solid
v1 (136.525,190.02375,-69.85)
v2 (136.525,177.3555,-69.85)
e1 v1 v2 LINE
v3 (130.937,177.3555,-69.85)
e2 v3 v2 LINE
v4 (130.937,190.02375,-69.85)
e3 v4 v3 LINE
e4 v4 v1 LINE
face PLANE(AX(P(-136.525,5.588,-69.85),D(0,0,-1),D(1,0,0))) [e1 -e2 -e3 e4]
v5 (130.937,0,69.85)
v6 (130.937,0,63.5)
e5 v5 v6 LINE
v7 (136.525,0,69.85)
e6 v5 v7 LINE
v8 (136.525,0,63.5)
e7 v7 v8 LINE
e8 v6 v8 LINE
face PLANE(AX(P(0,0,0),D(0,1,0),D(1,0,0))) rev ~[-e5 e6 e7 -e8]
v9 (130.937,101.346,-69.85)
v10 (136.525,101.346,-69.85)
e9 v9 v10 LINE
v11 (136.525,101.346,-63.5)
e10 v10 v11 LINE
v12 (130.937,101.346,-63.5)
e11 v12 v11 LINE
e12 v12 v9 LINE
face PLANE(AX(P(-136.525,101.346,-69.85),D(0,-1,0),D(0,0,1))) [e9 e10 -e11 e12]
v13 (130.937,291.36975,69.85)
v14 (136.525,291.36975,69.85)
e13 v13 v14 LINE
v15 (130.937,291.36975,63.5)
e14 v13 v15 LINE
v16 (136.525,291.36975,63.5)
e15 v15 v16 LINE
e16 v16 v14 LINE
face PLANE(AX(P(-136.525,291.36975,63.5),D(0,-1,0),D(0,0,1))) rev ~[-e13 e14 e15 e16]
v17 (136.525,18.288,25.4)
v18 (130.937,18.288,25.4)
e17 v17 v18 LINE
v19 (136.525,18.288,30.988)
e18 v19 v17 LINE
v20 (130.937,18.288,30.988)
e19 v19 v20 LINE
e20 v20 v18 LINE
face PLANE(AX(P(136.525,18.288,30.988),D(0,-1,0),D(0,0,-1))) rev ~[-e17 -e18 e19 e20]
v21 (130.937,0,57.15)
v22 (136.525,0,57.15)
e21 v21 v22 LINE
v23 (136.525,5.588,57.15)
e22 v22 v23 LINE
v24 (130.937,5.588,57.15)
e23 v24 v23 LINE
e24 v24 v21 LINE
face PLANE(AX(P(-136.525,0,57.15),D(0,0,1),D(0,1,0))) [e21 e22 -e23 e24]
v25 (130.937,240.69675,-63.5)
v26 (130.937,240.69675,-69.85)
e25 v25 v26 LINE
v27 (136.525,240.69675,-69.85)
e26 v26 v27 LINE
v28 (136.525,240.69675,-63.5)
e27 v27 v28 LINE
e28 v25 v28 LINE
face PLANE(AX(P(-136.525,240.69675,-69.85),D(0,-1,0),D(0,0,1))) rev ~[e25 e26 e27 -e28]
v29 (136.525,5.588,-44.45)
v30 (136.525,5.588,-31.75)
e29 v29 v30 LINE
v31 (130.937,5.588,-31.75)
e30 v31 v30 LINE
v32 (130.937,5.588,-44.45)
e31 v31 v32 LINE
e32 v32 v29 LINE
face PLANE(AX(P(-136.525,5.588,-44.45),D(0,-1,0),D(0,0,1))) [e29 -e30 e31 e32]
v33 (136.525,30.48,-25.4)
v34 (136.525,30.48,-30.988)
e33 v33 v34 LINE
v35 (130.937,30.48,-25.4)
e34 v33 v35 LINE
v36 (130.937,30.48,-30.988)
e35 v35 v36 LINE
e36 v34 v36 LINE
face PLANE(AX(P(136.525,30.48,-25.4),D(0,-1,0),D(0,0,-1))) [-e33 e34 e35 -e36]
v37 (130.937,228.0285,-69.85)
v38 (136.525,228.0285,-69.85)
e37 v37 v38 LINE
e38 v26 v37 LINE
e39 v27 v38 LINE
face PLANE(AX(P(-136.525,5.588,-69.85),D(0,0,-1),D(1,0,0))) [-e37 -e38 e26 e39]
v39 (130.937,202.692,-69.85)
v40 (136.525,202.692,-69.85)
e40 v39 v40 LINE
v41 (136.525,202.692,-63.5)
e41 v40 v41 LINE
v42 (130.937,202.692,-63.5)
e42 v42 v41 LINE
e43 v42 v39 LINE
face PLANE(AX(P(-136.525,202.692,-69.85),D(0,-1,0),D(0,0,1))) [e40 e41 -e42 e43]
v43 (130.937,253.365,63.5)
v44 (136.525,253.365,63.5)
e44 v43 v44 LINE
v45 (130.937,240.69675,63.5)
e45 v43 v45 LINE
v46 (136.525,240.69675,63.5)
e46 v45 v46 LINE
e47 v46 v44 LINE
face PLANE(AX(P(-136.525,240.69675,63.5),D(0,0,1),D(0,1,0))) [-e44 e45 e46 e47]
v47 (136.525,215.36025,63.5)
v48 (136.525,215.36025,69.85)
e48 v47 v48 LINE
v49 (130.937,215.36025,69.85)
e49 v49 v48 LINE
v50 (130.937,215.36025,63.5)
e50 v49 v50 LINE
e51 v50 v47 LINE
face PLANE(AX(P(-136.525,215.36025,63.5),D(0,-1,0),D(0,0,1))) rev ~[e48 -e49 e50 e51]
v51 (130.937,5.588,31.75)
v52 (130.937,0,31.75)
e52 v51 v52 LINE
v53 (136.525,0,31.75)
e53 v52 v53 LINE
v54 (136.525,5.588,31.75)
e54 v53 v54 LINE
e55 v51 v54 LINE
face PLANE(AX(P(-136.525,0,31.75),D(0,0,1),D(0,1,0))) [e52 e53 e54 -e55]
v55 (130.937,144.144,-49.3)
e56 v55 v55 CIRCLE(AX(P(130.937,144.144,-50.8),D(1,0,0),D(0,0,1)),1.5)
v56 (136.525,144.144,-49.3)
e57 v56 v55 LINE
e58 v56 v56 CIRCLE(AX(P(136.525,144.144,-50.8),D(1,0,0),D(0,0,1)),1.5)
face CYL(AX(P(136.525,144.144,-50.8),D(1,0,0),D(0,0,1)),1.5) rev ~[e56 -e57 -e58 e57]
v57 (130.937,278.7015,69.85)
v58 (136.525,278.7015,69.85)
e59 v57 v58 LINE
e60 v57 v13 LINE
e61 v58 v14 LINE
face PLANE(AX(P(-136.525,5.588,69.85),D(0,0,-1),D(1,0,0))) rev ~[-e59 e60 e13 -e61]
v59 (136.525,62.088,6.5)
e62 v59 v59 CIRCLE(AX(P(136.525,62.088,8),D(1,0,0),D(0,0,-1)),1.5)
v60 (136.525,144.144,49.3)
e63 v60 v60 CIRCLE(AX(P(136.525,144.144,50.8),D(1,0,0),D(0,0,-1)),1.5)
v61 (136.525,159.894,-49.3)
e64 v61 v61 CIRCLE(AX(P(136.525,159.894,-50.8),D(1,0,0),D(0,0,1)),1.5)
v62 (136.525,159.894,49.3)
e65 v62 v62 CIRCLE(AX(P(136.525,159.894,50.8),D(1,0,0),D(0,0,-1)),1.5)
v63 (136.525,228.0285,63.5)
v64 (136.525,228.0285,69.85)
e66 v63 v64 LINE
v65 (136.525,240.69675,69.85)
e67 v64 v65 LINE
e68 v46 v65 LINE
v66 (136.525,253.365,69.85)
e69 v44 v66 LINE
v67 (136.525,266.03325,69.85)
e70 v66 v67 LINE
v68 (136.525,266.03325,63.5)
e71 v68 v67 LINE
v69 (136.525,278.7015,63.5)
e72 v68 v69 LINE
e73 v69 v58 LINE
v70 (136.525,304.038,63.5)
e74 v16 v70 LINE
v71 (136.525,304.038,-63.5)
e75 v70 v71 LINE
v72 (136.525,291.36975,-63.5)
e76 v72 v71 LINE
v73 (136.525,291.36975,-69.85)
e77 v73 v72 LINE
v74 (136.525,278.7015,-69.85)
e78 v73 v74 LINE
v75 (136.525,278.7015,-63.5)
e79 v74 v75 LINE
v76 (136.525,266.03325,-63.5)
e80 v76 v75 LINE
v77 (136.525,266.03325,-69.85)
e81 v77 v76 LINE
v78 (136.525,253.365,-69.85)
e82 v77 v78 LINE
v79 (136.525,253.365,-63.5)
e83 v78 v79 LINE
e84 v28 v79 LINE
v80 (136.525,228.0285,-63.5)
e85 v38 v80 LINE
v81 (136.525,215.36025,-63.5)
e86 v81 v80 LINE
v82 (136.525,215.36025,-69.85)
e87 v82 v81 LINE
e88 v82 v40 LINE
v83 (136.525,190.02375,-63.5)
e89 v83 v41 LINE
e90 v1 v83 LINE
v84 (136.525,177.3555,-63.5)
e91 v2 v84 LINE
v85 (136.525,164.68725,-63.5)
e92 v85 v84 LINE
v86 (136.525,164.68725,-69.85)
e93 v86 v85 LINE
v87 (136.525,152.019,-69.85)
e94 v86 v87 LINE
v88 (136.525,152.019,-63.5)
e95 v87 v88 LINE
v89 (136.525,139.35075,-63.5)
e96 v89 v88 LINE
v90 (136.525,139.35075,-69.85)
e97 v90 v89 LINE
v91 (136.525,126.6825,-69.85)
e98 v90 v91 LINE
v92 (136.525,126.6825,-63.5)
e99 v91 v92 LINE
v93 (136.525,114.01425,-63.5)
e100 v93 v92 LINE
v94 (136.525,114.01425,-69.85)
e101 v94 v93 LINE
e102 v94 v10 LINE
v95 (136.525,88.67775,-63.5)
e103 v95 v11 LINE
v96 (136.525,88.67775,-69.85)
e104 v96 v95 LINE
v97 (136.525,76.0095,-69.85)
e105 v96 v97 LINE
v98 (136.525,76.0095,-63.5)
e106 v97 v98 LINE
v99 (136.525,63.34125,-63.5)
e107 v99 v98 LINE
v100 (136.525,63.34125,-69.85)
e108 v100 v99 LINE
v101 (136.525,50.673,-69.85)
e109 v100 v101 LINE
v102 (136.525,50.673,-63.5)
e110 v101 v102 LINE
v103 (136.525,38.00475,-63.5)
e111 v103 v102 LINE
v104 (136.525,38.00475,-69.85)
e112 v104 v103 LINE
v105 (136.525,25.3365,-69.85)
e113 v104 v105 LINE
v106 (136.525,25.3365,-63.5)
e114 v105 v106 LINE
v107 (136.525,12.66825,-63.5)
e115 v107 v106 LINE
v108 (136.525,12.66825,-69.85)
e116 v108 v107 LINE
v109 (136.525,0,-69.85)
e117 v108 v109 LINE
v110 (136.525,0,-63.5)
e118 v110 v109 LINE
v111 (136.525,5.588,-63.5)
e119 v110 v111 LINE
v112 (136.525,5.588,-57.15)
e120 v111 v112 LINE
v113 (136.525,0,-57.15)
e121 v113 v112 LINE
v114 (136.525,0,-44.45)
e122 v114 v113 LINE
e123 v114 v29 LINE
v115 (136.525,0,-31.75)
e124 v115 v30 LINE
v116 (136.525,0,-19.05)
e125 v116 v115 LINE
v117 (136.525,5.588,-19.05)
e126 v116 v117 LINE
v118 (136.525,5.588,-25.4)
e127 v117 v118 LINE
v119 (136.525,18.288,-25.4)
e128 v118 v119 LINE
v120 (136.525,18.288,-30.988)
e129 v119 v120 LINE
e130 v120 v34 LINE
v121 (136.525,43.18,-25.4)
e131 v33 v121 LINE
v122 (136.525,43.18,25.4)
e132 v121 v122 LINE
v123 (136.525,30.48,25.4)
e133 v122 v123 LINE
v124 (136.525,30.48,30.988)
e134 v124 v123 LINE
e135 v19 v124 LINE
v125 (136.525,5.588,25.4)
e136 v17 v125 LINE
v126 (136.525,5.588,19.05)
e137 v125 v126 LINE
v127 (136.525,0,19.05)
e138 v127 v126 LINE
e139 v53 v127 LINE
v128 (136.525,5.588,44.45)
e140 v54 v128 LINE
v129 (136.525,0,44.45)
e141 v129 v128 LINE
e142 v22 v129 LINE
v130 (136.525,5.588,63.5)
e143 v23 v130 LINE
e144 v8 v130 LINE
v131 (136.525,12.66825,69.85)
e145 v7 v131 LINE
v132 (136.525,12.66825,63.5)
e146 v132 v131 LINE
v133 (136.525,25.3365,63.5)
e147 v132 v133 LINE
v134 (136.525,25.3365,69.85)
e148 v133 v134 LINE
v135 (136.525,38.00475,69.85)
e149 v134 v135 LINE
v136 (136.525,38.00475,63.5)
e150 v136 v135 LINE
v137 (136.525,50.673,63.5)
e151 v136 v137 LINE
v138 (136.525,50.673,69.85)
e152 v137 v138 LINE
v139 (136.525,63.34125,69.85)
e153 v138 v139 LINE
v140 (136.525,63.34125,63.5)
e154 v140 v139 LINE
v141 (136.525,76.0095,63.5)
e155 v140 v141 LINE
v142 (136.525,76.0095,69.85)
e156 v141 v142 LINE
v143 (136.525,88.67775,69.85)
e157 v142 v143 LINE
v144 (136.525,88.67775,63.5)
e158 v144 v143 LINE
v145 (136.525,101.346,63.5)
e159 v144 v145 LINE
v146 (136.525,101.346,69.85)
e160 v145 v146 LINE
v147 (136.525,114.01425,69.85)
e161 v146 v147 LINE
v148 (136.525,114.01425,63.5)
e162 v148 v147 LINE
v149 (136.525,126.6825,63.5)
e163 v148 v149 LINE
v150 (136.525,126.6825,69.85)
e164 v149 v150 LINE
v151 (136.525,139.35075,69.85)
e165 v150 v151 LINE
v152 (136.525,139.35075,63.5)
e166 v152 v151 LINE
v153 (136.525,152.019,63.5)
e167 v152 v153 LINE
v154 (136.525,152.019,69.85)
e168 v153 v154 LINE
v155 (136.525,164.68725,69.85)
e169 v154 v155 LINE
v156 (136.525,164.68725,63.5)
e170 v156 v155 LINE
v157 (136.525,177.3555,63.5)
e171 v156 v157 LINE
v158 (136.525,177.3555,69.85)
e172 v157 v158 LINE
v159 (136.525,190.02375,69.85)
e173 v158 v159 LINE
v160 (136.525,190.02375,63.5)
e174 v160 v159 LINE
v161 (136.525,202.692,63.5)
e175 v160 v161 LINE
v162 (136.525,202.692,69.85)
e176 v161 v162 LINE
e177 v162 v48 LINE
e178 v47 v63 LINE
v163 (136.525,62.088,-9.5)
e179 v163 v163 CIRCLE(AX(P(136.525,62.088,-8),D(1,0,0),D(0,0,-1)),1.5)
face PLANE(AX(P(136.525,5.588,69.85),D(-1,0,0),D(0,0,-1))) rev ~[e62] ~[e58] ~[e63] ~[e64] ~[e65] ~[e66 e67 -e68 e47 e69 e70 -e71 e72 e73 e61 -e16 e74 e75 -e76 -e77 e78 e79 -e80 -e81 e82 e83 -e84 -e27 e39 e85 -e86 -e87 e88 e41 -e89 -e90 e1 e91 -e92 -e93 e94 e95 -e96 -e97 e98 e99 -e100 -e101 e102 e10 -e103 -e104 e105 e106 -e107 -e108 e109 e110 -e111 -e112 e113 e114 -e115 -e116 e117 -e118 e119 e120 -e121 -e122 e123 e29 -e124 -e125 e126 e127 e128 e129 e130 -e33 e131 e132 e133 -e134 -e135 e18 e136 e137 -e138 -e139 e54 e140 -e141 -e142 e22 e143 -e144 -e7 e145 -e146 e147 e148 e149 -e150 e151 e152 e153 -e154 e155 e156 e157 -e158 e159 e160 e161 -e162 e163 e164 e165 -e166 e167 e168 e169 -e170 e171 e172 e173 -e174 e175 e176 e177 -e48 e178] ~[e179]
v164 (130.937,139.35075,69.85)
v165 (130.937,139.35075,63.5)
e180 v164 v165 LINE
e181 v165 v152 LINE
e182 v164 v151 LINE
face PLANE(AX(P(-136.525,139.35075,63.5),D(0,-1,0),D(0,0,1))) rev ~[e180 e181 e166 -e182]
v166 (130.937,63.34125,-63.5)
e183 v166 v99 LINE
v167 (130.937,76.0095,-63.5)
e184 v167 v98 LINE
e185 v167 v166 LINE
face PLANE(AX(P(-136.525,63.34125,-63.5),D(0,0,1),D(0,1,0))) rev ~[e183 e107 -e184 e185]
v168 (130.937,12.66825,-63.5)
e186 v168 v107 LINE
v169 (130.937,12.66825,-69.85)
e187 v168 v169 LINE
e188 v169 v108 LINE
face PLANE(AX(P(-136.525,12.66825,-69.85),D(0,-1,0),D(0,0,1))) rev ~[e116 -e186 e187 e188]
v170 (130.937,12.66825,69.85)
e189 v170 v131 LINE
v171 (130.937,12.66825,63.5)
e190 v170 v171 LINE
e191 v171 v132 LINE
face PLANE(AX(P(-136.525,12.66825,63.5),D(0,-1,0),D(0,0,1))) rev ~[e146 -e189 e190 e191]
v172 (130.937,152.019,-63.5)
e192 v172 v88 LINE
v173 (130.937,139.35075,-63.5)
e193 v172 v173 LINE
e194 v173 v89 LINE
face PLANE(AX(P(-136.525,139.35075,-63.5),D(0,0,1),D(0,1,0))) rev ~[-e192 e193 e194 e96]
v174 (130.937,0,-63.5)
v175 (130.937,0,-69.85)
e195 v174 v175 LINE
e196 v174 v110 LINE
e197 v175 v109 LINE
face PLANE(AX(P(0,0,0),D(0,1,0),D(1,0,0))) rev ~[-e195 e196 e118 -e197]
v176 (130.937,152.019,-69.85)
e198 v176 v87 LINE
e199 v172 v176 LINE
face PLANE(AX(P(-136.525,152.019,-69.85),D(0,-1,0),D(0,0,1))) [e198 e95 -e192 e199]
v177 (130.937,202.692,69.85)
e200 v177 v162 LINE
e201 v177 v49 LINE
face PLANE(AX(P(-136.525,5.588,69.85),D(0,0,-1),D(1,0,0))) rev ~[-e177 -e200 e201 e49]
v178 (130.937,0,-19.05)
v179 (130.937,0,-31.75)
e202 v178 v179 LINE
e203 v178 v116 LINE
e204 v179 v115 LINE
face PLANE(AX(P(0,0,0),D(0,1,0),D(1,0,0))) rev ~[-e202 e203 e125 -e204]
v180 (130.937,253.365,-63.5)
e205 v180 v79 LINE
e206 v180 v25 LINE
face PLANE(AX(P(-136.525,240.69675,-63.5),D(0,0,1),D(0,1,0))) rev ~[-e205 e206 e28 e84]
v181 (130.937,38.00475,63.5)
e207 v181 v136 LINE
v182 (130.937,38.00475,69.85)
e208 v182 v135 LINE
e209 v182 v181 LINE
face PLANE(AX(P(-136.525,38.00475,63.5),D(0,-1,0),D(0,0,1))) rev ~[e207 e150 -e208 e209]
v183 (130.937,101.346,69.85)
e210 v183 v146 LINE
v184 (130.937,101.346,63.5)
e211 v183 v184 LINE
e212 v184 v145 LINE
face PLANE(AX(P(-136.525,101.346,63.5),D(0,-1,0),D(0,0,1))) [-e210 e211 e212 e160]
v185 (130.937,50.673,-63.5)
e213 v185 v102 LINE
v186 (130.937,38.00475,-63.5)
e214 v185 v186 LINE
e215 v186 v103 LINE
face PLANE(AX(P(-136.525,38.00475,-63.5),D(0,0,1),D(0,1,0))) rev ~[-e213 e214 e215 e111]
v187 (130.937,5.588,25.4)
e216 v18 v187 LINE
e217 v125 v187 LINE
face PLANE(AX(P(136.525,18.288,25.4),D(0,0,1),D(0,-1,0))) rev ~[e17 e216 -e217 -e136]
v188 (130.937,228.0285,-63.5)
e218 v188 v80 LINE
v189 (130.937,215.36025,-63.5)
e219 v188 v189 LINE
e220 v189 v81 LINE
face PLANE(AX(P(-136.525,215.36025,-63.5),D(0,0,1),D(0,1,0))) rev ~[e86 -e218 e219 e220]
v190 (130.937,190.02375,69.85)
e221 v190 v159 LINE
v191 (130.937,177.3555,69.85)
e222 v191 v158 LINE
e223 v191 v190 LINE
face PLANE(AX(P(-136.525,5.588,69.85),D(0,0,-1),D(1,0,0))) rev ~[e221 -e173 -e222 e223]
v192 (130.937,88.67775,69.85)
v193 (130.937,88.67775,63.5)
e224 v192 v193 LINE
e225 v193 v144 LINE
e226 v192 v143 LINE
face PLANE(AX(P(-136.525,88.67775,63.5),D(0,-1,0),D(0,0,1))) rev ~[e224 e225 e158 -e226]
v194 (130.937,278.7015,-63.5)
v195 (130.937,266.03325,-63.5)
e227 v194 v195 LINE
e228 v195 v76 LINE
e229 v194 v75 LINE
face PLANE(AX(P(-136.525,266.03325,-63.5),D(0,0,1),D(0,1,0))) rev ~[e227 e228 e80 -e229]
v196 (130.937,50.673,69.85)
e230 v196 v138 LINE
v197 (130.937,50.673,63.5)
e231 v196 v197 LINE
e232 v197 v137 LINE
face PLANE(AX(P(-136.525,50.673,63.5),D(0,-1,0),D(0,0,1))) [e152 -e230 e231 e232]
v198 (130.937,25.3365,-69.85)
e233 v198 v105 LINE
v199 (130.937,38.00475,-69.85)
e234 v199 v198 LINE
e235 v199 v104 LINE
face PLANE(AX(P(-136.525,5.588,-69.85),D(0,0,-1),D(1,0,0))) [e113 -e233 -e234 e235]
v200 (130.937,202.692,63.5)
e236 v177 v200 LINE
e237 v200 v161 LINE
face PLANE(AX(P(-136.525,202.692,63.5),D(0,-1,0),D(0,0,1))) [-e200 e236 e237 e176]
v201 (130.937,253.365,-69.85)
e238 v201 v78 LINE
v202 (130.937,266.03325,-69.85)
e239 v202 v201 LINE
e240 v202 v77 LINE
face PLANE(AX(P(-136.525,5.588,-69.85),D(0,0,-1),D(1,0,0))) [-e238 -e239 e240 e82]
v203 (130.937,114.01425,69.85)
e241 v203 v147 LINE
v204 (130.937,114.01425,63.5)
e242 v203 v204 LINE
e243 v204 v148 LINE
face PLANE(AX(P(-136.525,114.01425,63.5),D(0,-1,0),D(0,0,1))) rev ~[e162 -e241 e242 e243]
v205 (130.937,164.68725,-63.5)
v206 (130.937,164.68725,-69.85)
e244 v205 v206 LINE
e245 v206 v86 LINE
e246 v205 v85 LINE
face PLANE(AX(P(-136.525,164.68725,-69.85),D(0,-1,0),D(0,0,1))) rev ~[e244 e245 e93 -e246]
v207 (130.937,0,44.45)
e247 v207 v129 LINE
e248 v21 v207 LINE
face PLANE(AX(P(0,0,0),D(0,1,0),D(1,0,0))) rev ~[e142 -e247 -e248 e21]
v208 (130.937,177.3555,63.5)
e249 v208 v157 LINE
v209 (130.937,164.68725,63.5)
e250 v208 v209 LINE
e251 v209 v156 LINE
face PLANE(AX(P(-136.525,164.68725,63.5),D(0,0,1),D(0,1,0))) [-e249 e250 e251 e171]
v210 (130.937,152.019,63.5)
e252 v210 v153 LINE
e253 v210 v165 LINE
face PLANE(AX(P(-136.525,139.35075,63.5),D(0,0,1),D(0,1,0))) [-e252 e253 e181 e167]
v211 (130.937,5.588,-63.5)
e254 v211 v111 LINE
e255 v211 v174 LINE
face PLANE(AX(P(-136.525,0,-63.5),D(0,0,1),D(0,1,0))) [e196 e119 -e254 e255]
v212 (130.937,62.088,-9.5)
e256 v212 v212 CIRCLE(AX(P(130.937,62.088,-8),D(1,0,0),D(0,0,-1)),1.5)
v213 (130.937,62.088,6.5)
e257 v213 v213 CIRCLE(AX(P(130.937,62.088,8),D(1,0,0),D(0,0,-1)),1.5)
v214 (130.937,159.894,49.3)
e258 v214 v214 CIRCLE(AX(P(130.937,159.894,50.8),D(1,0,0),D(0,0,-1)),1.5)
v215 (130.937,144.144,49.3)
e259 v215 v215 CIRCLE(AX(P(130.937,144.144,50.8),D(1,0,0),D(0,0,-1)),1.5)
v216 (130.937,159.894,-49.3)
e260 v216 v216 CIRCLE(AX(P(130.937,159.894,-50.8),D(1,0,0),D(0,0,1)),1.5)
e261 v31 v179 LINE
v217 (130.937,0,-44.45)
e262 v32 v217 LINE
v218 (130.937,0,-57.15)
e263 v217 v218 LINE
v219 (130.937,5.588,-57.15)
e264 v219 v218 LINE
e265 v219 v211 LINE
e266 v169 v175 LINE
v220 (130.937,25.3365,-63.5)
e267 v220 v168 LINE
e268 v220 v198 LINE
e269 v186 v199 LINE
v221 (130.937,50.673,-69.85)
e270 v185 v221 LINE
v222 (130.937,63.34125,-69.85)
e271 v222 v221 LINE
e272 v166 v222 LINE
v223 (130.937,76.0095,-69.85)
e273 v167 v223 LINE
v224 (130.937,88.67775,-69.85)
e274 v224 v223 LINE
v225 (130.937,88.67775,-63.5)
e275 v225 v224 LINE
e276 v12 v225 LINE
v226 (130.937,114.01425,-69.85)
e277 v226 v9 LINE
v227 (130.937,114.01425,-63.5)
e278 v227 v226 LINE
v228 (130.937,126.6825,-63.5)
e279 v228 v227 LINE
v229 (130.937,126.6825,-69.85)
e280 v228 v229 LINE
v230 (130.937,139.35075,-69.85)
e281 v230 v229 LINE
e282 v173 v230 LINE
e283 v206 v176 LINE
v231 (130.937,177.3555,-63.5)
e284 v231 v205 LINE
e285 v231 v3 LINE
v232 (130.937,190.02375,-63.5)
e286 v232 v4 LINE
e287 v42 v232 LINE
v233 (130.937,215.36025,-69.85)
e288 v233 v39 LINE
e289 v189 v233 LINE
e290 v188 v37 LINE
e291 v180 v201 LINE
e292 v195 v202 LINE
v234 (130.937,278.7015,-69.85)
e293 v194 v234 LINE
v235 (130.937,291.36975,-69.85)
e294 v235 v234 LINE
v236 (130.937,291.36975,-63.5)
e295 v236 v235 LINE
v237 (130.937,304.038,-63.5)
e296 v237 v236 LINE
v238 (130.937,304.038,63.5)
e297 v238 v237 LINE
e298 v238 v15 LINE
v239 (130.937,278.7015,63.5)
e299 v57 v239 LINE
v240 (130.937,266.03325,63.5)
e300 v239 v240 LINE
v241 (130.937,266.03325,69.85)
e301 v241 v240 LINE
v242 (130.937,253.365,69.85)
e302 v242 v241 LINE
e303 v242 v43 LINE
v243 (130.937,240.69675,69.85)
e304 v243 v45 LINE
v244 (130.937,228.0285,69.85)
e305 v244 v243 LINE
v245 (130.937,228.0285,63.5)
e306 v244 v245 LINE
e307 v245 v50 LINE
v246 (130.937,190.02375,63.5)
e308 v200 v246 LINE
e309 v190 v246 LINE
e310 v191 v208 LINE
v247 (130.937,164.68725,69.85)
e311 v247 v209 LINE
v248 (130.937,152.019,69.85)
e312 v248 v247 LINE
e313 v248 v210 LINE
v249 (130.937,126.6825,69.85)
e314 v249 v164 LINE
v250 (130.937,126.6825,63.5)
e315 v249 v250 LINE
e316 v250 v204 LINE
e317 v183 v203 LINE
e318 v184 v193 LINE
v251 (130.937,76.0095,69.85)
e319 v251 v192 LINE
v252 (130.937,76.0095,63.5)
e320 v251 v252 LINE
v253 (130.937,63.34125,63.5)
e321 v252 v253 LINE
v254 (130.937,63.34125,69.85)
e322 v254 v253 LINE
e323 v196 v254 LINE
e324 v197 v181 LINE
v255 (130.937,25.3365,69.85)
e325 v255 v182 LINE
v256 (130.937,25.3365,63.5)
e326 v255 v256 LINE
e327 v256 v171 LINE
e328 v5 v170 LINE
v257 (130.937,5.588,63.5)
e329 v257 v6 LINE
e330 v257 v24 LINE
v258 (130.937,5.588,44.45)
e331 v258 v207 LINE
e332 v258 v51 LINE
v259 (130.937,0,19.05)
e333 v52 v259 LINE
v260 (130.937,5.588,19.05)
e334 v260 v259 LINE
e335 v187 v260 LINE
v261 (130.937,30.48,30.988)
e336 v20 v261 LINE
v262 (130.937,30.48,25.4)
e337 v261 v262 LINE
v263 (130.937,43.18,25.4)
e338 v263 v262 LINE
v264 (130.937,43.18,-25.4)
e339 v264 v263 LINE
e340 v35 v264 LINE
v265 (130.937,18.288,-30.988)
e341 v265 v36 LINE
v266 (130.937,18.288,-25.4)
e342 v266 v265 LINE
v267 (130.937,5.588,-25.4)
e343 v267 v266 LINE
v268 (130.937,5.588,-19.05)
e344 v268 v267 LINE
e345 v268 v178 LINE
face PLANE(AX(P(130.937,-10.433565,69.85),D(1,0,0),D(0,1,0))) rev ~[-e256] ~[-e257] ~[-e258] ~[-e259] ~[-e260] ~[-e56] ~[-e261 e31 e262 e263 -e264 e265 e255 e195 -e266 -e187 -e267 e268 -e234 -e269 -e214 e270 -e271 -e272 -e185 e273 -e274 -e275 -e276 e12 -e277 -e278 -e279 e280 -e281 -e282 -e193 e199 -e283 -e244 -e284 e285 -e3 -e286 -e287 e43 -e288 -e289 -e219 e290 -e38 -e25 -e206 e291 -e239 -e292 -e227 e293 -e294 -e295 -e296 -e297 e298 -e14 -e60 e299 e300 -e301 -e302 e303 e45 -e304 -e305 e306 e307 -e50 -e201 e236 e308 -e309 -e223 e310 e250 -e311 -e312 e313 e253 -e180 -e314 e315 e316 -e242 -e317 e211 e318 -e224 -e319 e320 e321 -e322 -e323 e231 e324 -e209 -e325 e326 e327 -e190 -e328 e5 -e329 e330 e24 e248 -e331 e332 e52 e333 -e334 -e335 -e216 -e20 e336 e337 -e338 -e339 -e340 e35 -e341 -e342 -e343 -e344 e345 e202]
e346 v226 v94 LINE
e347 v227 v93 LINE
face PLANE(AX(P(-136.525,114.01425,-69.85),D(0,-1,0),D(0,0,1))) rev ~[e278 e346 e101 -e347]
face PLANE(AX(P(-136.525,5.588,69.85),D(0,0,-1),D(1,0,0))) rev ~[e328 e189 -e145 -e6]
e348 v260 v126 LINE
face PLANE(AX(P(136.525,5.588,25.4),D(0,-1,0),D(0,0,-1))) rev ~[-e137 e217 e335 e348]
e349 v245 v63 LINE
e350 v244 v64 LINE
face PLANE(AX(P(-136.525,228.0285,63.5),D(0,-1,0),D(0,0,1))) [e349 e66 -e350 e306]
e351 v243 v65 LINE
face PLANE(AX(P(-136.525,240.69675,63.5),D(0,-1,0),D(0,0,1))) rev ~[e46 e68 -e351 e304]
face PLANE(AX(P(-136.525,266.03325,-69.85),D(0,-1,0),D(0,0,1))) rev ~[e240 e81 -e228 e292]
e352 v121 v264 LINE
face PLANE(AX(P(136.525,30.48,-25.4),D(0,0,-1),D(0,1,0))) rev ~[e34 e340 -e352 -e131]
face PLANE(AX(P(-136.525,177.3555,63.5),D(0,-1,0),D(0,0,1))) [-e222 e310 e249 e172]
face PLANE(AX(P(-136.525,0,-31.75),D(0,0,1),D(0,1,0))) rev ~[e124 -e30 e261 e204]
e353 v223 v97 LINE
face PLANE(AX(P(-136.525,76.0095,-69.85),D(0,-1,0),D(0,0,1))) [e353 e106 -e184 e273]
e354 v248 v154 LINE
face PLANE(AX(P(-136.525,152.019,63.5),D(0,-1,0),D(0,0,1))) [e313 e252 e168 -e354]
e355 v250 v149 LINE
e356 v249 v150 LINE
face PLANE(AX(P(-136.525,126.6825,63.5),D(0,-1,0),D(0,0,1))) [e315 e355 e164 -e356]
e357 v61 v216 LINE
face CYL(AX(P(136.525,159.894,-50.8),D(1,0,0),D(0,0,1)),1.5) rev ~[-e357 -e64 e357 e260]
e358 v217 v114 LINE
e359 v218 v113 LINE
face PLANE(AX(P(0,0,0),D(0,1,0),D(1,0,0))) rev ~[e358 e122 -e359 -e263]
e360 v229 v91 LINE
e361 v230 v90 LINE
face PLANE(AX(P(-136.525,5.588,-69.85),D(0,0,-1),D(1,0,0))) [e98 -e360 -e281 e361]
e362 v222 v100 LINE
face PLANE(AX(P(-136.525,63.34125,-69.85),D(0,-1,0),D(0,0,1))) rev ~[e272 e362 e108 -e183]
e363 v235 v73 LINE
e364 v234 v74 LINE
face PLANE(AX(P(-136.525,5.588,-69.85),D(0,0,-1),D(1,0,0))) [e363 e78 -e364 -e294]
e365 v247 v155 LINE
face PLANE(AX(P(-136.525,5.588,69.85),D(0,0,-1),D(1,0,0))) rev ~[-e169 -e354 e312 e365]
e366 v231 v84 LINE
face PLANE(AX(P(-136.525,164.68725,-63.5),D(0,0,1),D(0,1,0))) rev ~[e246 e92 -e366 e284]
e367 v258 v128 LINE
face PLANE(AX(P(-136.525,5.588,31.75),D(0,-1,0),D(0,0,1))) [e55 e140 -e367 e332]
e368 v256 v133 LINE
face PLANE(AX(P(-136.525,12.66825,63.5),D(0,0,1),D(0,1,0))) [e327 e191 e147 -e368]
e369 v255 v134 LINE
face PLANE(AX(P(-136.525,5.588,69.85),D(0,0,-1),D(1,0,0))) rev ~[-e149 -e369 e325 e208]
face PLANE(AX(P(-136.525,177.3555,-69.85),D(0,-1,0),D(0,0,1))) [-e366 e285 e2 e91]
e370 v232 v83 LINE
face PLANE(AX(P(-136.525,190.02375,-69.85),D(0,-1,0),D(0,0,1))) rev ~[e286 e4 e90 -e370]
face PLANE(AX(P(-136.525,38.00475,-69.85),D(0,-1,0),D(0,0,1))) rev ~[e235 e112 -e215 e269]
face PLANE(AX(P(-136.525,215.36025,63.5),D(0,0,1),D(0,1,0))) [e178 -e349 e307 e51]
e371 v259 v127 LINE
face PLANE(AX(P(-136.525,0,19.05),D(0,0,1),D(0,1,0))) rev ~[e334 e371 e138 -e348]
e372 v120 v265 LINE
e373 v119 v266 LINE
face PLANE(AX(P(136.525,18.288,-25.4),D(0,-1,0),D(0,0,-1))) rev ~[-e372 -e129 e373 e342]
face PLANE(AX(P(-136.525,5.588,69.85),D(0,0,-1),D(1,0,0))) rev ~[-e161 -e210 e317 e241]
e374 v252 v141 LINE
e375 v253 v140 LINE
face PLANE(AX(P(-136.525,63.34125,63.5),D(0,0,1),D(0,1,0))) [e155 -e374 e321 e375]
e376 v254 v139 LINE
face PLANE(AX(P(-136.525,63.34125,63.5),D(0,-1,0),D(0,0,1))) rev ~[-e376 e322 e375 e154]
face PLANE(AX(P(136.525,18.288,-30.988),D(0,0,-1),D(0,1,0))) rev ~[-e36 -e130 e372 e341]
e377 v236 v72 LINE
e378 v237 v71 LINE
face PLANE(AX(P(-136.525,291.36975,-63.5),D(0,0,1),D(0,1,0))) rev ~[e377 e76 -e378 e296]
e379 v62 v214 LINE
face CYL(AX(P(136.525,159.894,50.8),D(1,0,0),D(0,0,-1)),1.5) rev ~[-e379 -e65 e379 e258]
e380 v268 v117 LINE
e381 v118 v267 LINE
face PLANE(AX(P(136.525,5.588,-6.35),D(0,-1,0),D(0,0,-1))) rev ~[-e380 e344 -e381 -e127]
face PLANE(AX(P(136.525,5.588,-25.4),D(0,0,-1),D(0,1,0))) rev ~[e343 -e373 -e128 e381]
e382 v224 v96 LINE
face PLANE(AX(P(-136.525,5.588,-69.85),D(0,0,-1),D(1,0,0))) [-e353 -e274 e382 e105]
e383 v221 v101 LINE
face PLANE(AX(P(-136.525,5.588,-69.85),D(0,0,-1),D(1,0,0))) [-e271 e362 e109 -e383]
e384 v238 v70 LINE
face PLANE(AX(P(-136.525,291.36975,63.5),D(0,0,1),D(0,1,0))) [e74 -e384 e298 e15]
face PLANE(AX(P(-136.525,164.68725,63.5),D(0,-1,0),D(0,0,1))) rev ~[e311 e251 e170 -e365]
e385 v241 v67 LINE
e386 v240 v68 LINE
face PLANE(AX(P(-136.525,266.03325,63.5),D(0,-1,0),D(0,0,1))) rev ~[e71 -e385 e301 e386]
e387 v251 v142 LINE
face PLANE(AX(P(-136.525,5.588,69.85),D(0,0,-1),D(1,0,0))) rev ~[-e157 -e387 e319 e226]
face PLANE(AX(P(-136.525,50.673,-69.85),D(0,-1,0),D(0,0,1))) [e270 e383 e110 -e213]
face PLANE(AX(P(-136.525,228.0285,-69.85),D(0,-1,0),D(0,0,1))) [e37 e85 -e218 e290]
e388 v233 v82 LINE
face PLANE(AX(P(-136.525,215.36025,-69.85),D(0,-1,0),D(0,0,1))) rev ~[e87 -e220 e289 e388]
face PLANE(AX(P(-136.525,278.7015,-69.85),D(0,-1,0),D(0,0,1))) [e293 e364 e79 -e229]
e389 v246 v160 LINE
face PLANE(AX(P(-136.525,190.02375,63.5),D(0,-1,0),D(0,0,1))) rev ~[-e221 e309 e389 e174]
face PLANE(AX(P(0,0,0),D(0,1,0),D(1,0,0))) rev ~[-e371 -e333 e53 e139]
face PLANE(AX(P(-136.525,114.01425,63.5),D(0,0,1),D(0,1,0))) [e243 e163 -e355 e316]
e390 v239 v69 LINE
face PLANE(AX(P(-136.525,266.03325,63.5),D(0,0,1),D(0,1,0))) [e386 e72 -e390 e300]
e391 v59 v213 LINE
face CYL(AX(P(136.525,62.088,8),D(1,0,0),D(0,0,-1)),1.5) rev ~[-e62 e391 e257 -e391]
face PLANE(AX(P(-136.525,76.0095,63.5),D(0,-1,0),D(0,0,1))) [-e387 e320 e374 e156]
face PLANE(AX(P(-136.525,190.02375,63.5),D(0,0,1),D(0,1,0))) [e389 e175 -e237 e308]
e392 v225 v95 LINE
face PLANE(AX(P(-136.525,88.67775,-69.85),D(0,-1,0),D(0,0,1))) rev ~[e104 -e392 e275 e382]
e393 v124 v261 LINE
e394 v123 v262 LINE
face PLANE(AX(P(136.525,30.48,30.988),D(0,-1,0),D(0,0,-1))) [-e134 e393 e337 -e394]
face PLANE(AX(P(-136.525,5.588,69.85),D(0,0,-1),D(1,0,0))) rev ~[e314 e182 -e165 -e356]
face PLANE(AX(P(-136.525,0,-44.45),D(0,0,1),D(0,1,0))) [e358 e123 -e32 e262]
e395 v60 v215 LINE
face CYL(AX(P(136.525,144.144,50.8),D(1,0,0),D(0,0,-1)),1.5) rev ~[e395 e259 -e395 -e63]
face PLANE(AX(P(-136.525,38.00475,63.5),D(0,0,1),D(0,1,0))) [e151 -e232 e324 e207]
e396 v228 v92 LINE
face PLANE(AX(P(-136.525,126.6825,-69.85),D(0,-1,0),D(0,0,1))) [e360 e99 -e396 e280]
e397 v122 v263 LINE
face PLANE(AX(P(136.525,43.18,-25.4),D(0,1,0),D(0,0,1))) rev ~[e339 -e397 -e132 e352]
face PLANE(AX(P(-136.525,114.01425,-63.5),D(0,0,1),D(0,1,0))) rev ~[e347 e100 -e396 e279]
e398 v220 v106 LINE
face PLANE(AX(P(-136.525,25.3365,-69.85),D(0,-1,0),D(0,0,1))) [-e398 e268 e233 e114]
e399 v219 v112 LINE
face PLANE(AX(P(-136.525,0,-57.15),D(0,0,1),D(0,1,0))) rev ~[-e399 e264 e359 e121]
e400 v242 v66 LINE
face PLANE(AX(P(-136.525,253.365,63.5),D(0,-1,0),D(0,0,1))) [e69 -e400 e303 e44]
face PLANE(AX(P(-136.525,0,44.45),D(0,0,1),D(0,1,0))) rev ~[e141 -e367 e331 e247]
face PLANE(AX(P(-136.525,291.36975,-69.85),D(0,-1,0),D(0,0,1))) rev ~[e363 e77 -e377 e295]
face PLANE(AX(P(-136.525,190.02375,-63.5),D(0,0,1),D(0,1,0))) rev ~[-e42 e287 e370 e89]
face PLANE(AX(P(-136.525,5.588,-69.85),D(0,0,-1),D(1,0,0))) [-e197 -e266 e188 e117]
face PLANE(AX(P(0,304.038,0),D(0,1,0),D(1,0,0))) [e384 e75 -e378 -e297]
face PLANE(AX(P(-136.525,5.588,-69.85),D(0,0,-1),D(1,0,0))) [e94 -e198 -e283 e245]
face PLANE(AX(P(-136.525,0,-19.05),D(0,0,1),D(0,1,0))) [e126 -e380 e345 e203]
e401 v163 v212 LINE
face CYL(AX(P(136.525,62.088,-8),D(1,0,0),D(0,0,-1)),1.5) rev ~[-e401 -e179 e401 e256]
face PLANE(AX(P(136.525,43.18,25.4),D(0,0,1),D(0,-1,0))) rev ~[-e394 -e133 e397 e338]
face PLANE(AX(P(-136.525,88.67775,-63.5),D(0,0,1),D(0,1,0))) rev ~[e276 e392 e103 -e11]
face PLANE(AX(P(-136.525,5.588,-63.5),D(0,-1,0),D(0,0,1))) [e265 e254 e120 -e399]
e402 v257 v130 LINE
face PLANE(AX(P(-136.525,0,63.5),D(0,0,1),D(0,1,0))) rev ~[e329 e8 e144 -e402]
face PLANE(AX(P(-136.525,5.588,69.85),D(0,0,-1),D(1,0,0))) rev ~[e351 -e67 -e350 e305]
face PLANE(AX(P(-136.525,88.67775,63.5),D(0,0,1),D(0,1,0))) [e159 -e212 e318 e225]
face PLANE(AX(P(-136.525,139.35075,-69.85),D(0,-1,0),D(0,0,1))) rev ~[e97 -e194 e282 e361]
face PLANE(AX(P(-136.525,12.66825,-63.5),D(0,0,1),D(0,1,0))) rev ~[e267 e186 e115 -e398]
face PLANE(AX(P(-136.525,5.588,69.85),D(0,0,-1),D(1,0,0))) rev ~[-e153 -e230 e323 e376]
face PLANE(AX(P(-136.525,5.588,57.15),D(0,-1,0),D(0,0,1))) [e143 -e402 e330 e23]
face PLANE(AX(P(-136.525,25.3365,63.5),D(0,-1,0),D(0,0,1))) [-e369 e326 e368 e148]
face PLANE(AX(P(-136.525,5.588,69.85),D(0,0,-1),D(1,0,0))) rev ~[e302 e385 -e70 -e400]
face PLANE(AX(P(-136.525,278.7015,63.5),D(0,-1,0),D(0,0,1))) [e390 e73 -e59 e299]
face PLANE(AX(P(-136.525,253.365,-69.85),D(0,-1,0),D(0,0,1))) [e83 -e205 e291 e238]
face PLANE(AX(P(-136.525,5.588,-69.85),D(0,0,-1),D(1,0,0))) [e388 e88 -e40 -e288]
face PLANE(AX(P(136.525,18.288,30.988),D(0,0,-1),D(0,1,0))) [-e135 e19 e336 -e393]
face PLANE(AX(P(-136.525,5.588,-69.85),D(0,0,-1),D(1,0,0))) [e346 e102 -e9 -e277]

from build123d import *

# Parameters (mm, degrees)
SKETCH1_W              = 273.05
SKETCH1_H              = 139.7
BOSS_EXTRUDE1_DEPTH    = 5.588
SKETCH2_W              = 273.05
SKETCH2_H              = 139.7
SKETCH2_W_2            = 261.874
SKETCH2_H_2            = 128.524
BOSS_EXTRUDE2_DEPTH    = 298.45
SKETCH3_W              = 6.35
SKETCH3_H              = 16.933333333
SKETCH3_H_2            = 16.933333334
DOOR_SLOT_DEPTH        = 12.7
DOOR_GUIDE_HOLES_REACH = 361.255
SKETCH4_W              = 6.35
SKETCH4_H              = 15.875
LEVER_HOLES_W          = 9.652
LEVER_HOLES_H          = 6.35
LEVER_HOLES_W_2        = 6.35
CUT_EXTRUDE1_DEPTH     = 362.378293578
CUT_EXTRUDE3_REACH     = 416.577
SKETCH8_R              = 3.175
SKETCH16_W             = 327.238778096
SKETCH16_H             = 314.471565403
CUT_EXTRUDE10_DEPTH    = 362.378293578
LEFT_RIGHT_W           = 6.35
LEFT_RIGHT_H           = 5.588
LEFT_RIGHT_W_2         = 12.7
LEFT_RIGHT_H_2         = 12.66825
CUT_EXTRUDE11_DEPTH    = 415.577411883
SKETCH17_R             = 1.5
SKETCH17_W             = 23
SKETCH17_H             = 17.61800007
CUT_EXTRUDE12_DEPTH    = 313.00857951
SKETCH18_W             = 5.588
SKETCH18_H             = 12.192
CUT_EXTRUDE13_DEPTH    = 313.00857951


with BuildPart() as part:
    # Sketch1 → Boss-Extrude1 (new body)
    with BuildSketch(Plane(origin=(0, 0, 0), x_dir=(1, 0, 0), z_dir=(0, 1, 0))):
        Rectangle(SKETCH1_W, SKETCH1_H)
    extrude(amount=BOSS_EXTRUDE1_DEPTH)

    # Sketch2 → Boss-Extrude2 (add)
    with BuildSketch(Plane(origin=(0, 5.588, 0), x_dir=(1, 0, 0), z_dir=(0, 1, 0))):
        Rectangle(SKETCH2_W, SKETCH2_H)
        Rectangle(SKETCH2_W_2, SKETCH2_H_2, mode=Mode.SUBTRACT)
    extrude(amount=BOSS_EXTRUDE2_DEPTH)

    # Sketch3 → Door Slot (cut)
    with BuildSketch(Plane.XY.offset(69.85)):
        with BuildLine():
            Line((-29.337, 282.448), (-29.337, 5.588))
            Line((-29.337, 5.588), (-22.733, 5.588))
            Line((-22.733, 5.588), (-22.733, 291.592))
            Line((-22.733, 291.592), (-42.291, 291.592))
            Line((-42.291, 291.592), (-42.291, 284.988))
            Line((-42.291, 284.988), (-31.877, 284.988))
            ThreePointArc((-31.877, 284.988), (-30.080948776, 284.244051224), (-29.337, 282.448))
        make_face()
        with Locations((-13.208, 80.433333334)):
            Rectangle(SKETCH3_W, SKETCH3_H)
        with Locations((-13.208, 50.8)):
            Rectangle(SKETCH3_W, SKETCH3_H_2)
        with Locations((-13.208, 21.166666667)):
            Rectangle(SKETCH3_W, SKETCH3_H)
    extrude(amount=-DOOR_SLOT_DEPTH, mode=Mode.SUBTRACT)

    # Sketch4 → Door Guide Holes (cut, up to next)
    with BuildSketch(Plane.XY.offset(-64.262), mode=Mode.PRIVATE) as door_guide_holes_sk1:
        with Locations((-45.466, 283.4005)):
            Rectangle(SKETCH4_W, SKETCH4_H)
    door_guide_holes_tool1 = extrude(door_guide_holes_sk1.sketch, amount=-DOOR_GUIDE_HOLES_REACH, mode=Mode.PRIVATE) & part.part
    # Sketch4 → Door Guide Holes (cut, up to next)
    with BuildSketch(Plane.XY.offset(-64.262), mode=Mode.PRIVATE) as door_guide_holes_sk2:
        with Locations((-45.466, 254.8255)):
            Rectangle(SKETCH4_W, SKETCH4_H)
    door_guide_holes_tool2 = extrude(door_guide_holes_sk2.sketch, amount=-DOOR_GUIDE_HOLES_REACH, mode=Mode.PRIVATE) & part.part
    # Sketch4 → Door Guide Holes (cut, up to next)
    with BuildSketch(Plane.XY.offset(-64.262), mode=Mode.PRIVATE) as door_guide_holes_sk3:
        with Locations((-45.466, 226.2505)):
            Rectangle(SKETCH4_W, SKETCH4_H)
    door_guide_holes_tool3 = extrude(door_guide_holes_sk3.sketch, amount=-DOOR_GUIDE_HOLES_REACH, mode=Mode.PRIVATE) & part.part
    # Sketch4 → Door Guide Holes (cut, up to next)
    with BuildSketch(Plane.XY.offset(-64.262), mode=Mode.PRIVATE) as door_guide_holes_sk4:
        with Locations((-45.466, 197.6755)):
            Rectangle(SKETCH4_W, SKETCH4_H)
    door_guide_holes_tool4 = extrude(door_guide_holes_sk4.sketch, amount=-DOOR_GUIDE_HOLES_REACH, mode=Mode.PRIVATE) & part.part
    # Sketch4 → Door Guide Holes (cut, up to next)
    with BuildSketch(Plane.XY.offset(-64.262), mode=Mode.PRIVATE) as door_guide_holes_sk5:
        with Locations((-45.466, 169.1005)):
            Rectangle(SKETCH4_W, SKETCH4_H)
    door_guide_holes_tool5 = extrude(door_guide_holes_sk5.sketch, amount=-DOOR_GUIDE_HOLES_REACH, mode=Mode.PRIVATE) & part.part
    # Sketch4 → Door Guide Holes (cut, up to next)
    with BuildSketch(Plane.XY.offset(-64.262), mode=Mode.PRIVATE) as door_guide_holes_sk6:
        with Locations((-45.466, 140.5255)):
            Rectangle(SKETCH4_W, SKETCH4_H)
    door_guide_holes_tool6 = extrude(door_guide_holes_sk6.sketch, amount=-DOOR_GUIDE_HOLES_REACH, mode=Mode.PRIVATE) & part.part
    # Sketch4 → Door Guide Holes (cut, up to next)
    with BuildSketch(Plane.XY.offset(-64.262), mode=Mode.PRIVATE) as door_guide_holes_sk7:
        with Locations((-45.466, 111.9505)):
            Rectangle(SKETCH4_W, SKETCH4_H)
    door_guide_holes_tool7 = extrude(door_guide_holes_sk7.sketch, amount=-DOOR_GUIDE_HOLES_REACH, mode=Mode.PRIVATE) & part.part
    # Sketch4 → Door Guide Holes (cut, up to next)
    with BuildSketch(Plane.XY.offset(-64.262), mode=Mode.PRIVATE) as door_guide_holes_sk8:
        with Locations((-45.466, 83.3755)):
            Rectangle(SKETCH4_W, SKETCH4_H)
    door_guide_holes_tool8 = extrude(door_guide_holes_sk8.sketch, amount=-DOOR_GUIDE_HOLES_REACH, mode=Mode.PRIVATE) & part.part
    # Sketch4 → Door Guide Holes (cut, up to next)
    with BuildSketch(Plane.XY.offset(-64.262), mode=Mode.PRIVATE) as door_guide_holes_sk9:
        with Locations((-45.466, 54.8005)):
            Rectangle(SKETCH4_W, SKETCH4_H)
    door_guide_holes_tool9 = extrude(door_guide_holes_sk9.sketch, amount=-DOOR_GUIDE_HOLES_REACH, mode=Mode.PRIVATE) & part.part
    # Sketch4 → Door Guide Holes (cut, up to next)
    with BuildSketch(Plane.XY.offset(-64.262), mode=Mode.PRIVATE) as door_guide_holes_sk10:
        with Locations((-45.466, 26.2255)):
            Rectangle(SKETCH4_W, SKETCH4_H)
    door_guide_holes_tool10 = extrude(door_guide_holes_sk10.sketch, amount=-DOOR_GUIDE_HOLES_REACH, mode=Mode.PRIVATE) & part.part
    door_guide_holes_1 = door_guide_holes_tool1.solids().sort_by_distance((-45.466, 283.4005, -64.262))[0]
    add(door_guide_holes_1, mode=Mode.SUBTRACT)
    door_guide_holes_2 = door_guide_holes_tool2.solids().sort_by_distance((-45.466, 254.8255, -64.262))[0]
    add(door_guide_holes_2, mode=Mode.SUBTRACT)
    door_guide_holes_3 = door_guide_holes_tool3.solids().sort_by_distance((-45.466, 226.2505, -64.262))[0]
    add(door_guide_holes_3, mode=Mode.SUBTRACT)
    door_guide_holes_4 = door_guide_holes_tool4.solids().sort_by_distance((-45.466, 197.6755, -64.262))[0]
    add(door_guide_holes_4, mode=Mode.SUBTRACT)
    door_guide_holes_5 = door_guide_holes_tool5.solids().sort_by_distance((-45.466, 169.1005, -64.262))[0]
    add(door_guide_holes_5, mode=Mode.SUBTRACT)
    door_guide_holes_6 = door_guide_holes_tool6.solids().sort_by_distance((-45.466, 140.5255, -64.262))[0]
    add(door_guide_holes_6, mode=Mode.SUBTRACT)
    door_guide_holes_7 = door_guide_holes_tool7.solids().sort_by_distance((-45.466, 111.9505, -64.262))[0]
    add(door_guide_holes_7, mode=Mode.SUBTRACT)
    door_guide_holes_8 = door_guide_holes_tool8.solids().sort_by_distance((-45.466, 83.3755, -64.262))[0]
    add(door_guide_holes_8, mode=Mode.SUBTRACT)
    door_guide_holes_9 = door_guide_holes_tool9.solids().sort_by_distance((-45.466, 54.8005, -64.262))[0]
    add(door_guide_holes_9, mode=Mode.SUBTRACT)
    door_guide_holes_10 = door_guide_holes_tool10.solids().sort_by_distance((-45.466, 26.2255, -64.262))[0]
    add(door_guide_holes_10, mode=Mode.SUBTRACT)
    door_guide_holes = door_guide_holes_1 + door_guide_holes_2 + door_guide_holes_3 + door_guide_holes_4 + door_guide_holes_5 + door_guide_holes_6 + door_guide_holes_7 + door_guide_holes_8 + door_guide_holes_9 + door_guide_holes_10  # Door Guide Holes as one shape, for the pattern or mirror that repeats it

    # Mirror1: Door Guide Holes across plane
    add(door_guide_holes.mirror(Plane.ZY.offset(32.512)), mode=Mode.SUBTRACT)

    # Lever Holes → Cut-Extrude1 (cut, through all)
    with BuildSketch(Plane.XY.offset(69.85)):
        with Locations((54.102, 28.575)):
            Rectangle(LEVER_HOLES_W, LEVER_HOLES_H)
        with Locations((39.3065, 15.875)):
            Rectangle(LEVER_HOLES_W_2, LEVER_HOLES_H)
        with Locations((68.8975, 15.875)):
            Rectangle(LEVER_HOLES_W_2, LEVER_HOLES_H)
    extrude(amount=-CUT_EXTRUDE1_DEPTH, mode=Mode.SUBTRACT)

    # Sketch8 → Cut-Extrude3 (cut, up to next)
    with BuildSketch(Plane.ZY.offset(136.525), mode=Mode.PRIVATE) as cut_extrude3_sk1:
        with Locations((0, 19.05)):
            Circle(SKETCH8_R)
    cut_extrude3_tool1 = extrude(cut_extrude3_sk1.sketch, amount=-CUT_EXTRUDE3_REACH, mode=Mode.PRIVATE) & part.part
    add(cut_extrude3_tool1.solids().sort_by_distance((-136.525, 19.05, 0))[0], mode=Mode.SUBTRACT)

    # Sketch16 → Cut-Extrude10 (cut, through all)
    with BuildSketch(Plane.XY.offset(69.85)):
        with Locations((-32.682389048, 146.802217299)):
            Rectangle(SKETCH16_W, SKETCH16_H)
    extrude(amount=-CUT_EXTRUDE10_DEPTH, mode=Mode.SUBTRACT)

    # Left/Right → Cut-Extrude11 (cut, through all)
    with BuildSketch(Plane.ZY.offset(136.525)):
        with Locations((60.325, 2.794)):
            Rectangle(LEFT_RIGHT_W, LEFT_RIGHT_H)
        with Locations((38.1, 2.794)):
            Rectangle(LEFT_RIGHT_W_2, LEFT_RIGHT_H)
        with Locations((66.675, 19.002375)):
            Rectangle(LEFT_RIGHT_W, LEFT_RIGHT_H_2)
        with Locations((12.7, 2.794)):
            Rectangle(LEFT_RIGHT_W_2, LEFT_RIGHT_H)
        with Locations((66.675, 44.338875)):
            Rectangle(LEFT_RIGHT_W, LEFT_RIGHT_H_2)
        with Locations((-12.7, 2.794)):
            Rectangle(LEFT_RIGHT_W_2, LEFT_RIGHT_H)
        with Locations((66.675, 69.675375)):
            Rectangle(LEFT_RIGHT_W, LEFT_RIGHT_H_2)
        with Locations((-38.1, 2.794)):
            Rectangle(LEFT_RIGHT_W_2, LEFT_RIGHT_H)
        with Locations((66.675, 95.011875)):
            Rectangle(LEFT_RIGHT_W, LEFT_RIGHT_H_2)
        with Locations((-60.325, 2.794)):
            Rectangle(LEFT_RIGHT_W, LEFT_RIGHT_H)
        with Locations((66.675, 120.348375)):
            Rectangle(LEFT_RIGHT_W, LEFT_RIGHT_H_2)
        with Locations((-66.675, 19.002375)):
            Rectangle(LEFT_RIGHT_W, LEFT_RIGHT_H_2)
        with Locations((66.675, 145.684875)):
            Rectangle(LEFT_RIGHT_W, LEFT_RIGHT_H_2)
        with Locations((-66.675, 44.338875)):
            Rectangle(LEFT_RIGHT_W, LEFT_RIGHT_H_2)
        with Locations((66.675, 171.021375)):
            Rectangle(LEFT_RIGHT_W, LEFT_RIGHT_H_2)
        with Locations((-66.675, 69.675375)):
            Rectangle(LEFT_RIGHT_W, LEFT_RIGHT_H_2)
        with Locations((66.675, 196.357875)):
            Rectangle(LEFT_RIGHT_W, LEFT_RIGHT_H_2)
        with Locations((-66.675, 95.011875)):
            Rectangle(LEFT_RIGHT_W, LEFT_RIGHT_H_2)
        with Locations((66.675, 221.694375)):
            Rectangle(LEFT_RIGHT_W, LEFT_RIGHT_H_2)
        with Locations((-66.675, 120.348375)):
            Rectangle(LEFT_RIGHT_W, LEFT_RIGHT_H_2)
        with Locations((66.675, 247.030875)):
            Rectangle(LEFT_RIGHT_W, LEFT_RIGHT_H_2)
        with Locations((-66.675, 145.684875)):
            Rectangle(LEFT_RIGHT_W, LEFT_RIGHT_H_2)
        with Locations((66.675, 272.367375)):
            Rectangle(LEFT_RIGHT_W, LEFT_RIGHT_H_2)
        with Locations((-66.675, 171.021375)):
            Rectangle(LEFT_RIGHT_W, LEFT_RIGHT_H_2)
        with Locations((66.675, 297.703875)):
            Rectangle(LEFT_RIGHT_W, LEFT_RIGHT_H_2)
        with Locations((-66.675, 196.357875)):
            Rectangle(LEFT_RIGHT_W, LEFT_RIGHT_H_2)
        with Locations((-66.675, 221.694375)):
            Rectangle(LEFT_RIGHT_W, LEFT_RIGHT_H_2)
        with Locations((-66.675, 247.030875)):
            Rectangle(LEFT_RIGHT_W, LEFT_RIGHT_H_2)
        with Locations((-66.675, 272.367375)):
            Rectangle(LEFT_RIGHT_W, LEFT_RIGHT_H_2)
        with Locations((-66.675, 297.703875)):
            Rectangle(LEFT_RIGHT_W, LEFT_RIGHT_H_2)
    extrude(amount=-CUT_EXTRUDE11_DEPTH, mode=Mode.SUBTRACT)

    # Sketch17 → Cut-Extrude12 (cut, through all)
    with BuildSketch(Plane(origin=(136.525, 0, 0), x_dir=(0, 0, -1), z_dir=(1, 0, 0))):
        with Locations((-8, 62.088)):
            Circle(SKETCH17_R)
        with Locations((8, 62.088)):
            Circle(SKETCH17_R)
        with Locations((-50.8, 159.894)):
            Circle(SKETCH17_R)
        with Locations((-50.8, 144.144)):
            Circle(SKETCH17_R)
        with Locations(Location((50.8, 144.144, 0), (0, 0, 180))):
            Circle(SKETCH17_R)
        with Locations(Location((50.8, 159.894, 0), (0, 0, 180))):
            Circle(SKETCH17_R)
        with Locations((0, 22.779000035)):
            Rectangle(SKETCH17_W, SKETCH17_H)
    extrude(amount=-CUT_EXTRUDE12_DEPTH, mode=Mode.SUBTRACT)

    # Sketch18 → Cut-Extrude13 (cut, through all)
    with BuildSketch(Plane(origin=(136.525, 0, 0), x_dir=(0, 0, -1), z_dir=(1, 0, 0))):
        with Locations((-28.194, 24.384)):
            Rectangle(SKETCH18_W, SKETCH18_H)
        with Locations((28.194, 24.384)):
            Rectangle(SKETCH18_W, SKETCH18_H)
        Polygon((25.4, 30.48), (25.4, 43.18), (-25.4, 43.18), (-25.4, 30.48), (-25.4, 18.288), (-25.4, 5.588), (-6.35, 5.588), (-6.35, 0), (6.35, 0), (6.35, 5.588), (25.4, 5.588), (25.4, 18.288), align=None)
    extrude(amount=-CUT_EXTRUDE13_DEPTH, mode=Mode.SUBTRACT)


solid = part.part
